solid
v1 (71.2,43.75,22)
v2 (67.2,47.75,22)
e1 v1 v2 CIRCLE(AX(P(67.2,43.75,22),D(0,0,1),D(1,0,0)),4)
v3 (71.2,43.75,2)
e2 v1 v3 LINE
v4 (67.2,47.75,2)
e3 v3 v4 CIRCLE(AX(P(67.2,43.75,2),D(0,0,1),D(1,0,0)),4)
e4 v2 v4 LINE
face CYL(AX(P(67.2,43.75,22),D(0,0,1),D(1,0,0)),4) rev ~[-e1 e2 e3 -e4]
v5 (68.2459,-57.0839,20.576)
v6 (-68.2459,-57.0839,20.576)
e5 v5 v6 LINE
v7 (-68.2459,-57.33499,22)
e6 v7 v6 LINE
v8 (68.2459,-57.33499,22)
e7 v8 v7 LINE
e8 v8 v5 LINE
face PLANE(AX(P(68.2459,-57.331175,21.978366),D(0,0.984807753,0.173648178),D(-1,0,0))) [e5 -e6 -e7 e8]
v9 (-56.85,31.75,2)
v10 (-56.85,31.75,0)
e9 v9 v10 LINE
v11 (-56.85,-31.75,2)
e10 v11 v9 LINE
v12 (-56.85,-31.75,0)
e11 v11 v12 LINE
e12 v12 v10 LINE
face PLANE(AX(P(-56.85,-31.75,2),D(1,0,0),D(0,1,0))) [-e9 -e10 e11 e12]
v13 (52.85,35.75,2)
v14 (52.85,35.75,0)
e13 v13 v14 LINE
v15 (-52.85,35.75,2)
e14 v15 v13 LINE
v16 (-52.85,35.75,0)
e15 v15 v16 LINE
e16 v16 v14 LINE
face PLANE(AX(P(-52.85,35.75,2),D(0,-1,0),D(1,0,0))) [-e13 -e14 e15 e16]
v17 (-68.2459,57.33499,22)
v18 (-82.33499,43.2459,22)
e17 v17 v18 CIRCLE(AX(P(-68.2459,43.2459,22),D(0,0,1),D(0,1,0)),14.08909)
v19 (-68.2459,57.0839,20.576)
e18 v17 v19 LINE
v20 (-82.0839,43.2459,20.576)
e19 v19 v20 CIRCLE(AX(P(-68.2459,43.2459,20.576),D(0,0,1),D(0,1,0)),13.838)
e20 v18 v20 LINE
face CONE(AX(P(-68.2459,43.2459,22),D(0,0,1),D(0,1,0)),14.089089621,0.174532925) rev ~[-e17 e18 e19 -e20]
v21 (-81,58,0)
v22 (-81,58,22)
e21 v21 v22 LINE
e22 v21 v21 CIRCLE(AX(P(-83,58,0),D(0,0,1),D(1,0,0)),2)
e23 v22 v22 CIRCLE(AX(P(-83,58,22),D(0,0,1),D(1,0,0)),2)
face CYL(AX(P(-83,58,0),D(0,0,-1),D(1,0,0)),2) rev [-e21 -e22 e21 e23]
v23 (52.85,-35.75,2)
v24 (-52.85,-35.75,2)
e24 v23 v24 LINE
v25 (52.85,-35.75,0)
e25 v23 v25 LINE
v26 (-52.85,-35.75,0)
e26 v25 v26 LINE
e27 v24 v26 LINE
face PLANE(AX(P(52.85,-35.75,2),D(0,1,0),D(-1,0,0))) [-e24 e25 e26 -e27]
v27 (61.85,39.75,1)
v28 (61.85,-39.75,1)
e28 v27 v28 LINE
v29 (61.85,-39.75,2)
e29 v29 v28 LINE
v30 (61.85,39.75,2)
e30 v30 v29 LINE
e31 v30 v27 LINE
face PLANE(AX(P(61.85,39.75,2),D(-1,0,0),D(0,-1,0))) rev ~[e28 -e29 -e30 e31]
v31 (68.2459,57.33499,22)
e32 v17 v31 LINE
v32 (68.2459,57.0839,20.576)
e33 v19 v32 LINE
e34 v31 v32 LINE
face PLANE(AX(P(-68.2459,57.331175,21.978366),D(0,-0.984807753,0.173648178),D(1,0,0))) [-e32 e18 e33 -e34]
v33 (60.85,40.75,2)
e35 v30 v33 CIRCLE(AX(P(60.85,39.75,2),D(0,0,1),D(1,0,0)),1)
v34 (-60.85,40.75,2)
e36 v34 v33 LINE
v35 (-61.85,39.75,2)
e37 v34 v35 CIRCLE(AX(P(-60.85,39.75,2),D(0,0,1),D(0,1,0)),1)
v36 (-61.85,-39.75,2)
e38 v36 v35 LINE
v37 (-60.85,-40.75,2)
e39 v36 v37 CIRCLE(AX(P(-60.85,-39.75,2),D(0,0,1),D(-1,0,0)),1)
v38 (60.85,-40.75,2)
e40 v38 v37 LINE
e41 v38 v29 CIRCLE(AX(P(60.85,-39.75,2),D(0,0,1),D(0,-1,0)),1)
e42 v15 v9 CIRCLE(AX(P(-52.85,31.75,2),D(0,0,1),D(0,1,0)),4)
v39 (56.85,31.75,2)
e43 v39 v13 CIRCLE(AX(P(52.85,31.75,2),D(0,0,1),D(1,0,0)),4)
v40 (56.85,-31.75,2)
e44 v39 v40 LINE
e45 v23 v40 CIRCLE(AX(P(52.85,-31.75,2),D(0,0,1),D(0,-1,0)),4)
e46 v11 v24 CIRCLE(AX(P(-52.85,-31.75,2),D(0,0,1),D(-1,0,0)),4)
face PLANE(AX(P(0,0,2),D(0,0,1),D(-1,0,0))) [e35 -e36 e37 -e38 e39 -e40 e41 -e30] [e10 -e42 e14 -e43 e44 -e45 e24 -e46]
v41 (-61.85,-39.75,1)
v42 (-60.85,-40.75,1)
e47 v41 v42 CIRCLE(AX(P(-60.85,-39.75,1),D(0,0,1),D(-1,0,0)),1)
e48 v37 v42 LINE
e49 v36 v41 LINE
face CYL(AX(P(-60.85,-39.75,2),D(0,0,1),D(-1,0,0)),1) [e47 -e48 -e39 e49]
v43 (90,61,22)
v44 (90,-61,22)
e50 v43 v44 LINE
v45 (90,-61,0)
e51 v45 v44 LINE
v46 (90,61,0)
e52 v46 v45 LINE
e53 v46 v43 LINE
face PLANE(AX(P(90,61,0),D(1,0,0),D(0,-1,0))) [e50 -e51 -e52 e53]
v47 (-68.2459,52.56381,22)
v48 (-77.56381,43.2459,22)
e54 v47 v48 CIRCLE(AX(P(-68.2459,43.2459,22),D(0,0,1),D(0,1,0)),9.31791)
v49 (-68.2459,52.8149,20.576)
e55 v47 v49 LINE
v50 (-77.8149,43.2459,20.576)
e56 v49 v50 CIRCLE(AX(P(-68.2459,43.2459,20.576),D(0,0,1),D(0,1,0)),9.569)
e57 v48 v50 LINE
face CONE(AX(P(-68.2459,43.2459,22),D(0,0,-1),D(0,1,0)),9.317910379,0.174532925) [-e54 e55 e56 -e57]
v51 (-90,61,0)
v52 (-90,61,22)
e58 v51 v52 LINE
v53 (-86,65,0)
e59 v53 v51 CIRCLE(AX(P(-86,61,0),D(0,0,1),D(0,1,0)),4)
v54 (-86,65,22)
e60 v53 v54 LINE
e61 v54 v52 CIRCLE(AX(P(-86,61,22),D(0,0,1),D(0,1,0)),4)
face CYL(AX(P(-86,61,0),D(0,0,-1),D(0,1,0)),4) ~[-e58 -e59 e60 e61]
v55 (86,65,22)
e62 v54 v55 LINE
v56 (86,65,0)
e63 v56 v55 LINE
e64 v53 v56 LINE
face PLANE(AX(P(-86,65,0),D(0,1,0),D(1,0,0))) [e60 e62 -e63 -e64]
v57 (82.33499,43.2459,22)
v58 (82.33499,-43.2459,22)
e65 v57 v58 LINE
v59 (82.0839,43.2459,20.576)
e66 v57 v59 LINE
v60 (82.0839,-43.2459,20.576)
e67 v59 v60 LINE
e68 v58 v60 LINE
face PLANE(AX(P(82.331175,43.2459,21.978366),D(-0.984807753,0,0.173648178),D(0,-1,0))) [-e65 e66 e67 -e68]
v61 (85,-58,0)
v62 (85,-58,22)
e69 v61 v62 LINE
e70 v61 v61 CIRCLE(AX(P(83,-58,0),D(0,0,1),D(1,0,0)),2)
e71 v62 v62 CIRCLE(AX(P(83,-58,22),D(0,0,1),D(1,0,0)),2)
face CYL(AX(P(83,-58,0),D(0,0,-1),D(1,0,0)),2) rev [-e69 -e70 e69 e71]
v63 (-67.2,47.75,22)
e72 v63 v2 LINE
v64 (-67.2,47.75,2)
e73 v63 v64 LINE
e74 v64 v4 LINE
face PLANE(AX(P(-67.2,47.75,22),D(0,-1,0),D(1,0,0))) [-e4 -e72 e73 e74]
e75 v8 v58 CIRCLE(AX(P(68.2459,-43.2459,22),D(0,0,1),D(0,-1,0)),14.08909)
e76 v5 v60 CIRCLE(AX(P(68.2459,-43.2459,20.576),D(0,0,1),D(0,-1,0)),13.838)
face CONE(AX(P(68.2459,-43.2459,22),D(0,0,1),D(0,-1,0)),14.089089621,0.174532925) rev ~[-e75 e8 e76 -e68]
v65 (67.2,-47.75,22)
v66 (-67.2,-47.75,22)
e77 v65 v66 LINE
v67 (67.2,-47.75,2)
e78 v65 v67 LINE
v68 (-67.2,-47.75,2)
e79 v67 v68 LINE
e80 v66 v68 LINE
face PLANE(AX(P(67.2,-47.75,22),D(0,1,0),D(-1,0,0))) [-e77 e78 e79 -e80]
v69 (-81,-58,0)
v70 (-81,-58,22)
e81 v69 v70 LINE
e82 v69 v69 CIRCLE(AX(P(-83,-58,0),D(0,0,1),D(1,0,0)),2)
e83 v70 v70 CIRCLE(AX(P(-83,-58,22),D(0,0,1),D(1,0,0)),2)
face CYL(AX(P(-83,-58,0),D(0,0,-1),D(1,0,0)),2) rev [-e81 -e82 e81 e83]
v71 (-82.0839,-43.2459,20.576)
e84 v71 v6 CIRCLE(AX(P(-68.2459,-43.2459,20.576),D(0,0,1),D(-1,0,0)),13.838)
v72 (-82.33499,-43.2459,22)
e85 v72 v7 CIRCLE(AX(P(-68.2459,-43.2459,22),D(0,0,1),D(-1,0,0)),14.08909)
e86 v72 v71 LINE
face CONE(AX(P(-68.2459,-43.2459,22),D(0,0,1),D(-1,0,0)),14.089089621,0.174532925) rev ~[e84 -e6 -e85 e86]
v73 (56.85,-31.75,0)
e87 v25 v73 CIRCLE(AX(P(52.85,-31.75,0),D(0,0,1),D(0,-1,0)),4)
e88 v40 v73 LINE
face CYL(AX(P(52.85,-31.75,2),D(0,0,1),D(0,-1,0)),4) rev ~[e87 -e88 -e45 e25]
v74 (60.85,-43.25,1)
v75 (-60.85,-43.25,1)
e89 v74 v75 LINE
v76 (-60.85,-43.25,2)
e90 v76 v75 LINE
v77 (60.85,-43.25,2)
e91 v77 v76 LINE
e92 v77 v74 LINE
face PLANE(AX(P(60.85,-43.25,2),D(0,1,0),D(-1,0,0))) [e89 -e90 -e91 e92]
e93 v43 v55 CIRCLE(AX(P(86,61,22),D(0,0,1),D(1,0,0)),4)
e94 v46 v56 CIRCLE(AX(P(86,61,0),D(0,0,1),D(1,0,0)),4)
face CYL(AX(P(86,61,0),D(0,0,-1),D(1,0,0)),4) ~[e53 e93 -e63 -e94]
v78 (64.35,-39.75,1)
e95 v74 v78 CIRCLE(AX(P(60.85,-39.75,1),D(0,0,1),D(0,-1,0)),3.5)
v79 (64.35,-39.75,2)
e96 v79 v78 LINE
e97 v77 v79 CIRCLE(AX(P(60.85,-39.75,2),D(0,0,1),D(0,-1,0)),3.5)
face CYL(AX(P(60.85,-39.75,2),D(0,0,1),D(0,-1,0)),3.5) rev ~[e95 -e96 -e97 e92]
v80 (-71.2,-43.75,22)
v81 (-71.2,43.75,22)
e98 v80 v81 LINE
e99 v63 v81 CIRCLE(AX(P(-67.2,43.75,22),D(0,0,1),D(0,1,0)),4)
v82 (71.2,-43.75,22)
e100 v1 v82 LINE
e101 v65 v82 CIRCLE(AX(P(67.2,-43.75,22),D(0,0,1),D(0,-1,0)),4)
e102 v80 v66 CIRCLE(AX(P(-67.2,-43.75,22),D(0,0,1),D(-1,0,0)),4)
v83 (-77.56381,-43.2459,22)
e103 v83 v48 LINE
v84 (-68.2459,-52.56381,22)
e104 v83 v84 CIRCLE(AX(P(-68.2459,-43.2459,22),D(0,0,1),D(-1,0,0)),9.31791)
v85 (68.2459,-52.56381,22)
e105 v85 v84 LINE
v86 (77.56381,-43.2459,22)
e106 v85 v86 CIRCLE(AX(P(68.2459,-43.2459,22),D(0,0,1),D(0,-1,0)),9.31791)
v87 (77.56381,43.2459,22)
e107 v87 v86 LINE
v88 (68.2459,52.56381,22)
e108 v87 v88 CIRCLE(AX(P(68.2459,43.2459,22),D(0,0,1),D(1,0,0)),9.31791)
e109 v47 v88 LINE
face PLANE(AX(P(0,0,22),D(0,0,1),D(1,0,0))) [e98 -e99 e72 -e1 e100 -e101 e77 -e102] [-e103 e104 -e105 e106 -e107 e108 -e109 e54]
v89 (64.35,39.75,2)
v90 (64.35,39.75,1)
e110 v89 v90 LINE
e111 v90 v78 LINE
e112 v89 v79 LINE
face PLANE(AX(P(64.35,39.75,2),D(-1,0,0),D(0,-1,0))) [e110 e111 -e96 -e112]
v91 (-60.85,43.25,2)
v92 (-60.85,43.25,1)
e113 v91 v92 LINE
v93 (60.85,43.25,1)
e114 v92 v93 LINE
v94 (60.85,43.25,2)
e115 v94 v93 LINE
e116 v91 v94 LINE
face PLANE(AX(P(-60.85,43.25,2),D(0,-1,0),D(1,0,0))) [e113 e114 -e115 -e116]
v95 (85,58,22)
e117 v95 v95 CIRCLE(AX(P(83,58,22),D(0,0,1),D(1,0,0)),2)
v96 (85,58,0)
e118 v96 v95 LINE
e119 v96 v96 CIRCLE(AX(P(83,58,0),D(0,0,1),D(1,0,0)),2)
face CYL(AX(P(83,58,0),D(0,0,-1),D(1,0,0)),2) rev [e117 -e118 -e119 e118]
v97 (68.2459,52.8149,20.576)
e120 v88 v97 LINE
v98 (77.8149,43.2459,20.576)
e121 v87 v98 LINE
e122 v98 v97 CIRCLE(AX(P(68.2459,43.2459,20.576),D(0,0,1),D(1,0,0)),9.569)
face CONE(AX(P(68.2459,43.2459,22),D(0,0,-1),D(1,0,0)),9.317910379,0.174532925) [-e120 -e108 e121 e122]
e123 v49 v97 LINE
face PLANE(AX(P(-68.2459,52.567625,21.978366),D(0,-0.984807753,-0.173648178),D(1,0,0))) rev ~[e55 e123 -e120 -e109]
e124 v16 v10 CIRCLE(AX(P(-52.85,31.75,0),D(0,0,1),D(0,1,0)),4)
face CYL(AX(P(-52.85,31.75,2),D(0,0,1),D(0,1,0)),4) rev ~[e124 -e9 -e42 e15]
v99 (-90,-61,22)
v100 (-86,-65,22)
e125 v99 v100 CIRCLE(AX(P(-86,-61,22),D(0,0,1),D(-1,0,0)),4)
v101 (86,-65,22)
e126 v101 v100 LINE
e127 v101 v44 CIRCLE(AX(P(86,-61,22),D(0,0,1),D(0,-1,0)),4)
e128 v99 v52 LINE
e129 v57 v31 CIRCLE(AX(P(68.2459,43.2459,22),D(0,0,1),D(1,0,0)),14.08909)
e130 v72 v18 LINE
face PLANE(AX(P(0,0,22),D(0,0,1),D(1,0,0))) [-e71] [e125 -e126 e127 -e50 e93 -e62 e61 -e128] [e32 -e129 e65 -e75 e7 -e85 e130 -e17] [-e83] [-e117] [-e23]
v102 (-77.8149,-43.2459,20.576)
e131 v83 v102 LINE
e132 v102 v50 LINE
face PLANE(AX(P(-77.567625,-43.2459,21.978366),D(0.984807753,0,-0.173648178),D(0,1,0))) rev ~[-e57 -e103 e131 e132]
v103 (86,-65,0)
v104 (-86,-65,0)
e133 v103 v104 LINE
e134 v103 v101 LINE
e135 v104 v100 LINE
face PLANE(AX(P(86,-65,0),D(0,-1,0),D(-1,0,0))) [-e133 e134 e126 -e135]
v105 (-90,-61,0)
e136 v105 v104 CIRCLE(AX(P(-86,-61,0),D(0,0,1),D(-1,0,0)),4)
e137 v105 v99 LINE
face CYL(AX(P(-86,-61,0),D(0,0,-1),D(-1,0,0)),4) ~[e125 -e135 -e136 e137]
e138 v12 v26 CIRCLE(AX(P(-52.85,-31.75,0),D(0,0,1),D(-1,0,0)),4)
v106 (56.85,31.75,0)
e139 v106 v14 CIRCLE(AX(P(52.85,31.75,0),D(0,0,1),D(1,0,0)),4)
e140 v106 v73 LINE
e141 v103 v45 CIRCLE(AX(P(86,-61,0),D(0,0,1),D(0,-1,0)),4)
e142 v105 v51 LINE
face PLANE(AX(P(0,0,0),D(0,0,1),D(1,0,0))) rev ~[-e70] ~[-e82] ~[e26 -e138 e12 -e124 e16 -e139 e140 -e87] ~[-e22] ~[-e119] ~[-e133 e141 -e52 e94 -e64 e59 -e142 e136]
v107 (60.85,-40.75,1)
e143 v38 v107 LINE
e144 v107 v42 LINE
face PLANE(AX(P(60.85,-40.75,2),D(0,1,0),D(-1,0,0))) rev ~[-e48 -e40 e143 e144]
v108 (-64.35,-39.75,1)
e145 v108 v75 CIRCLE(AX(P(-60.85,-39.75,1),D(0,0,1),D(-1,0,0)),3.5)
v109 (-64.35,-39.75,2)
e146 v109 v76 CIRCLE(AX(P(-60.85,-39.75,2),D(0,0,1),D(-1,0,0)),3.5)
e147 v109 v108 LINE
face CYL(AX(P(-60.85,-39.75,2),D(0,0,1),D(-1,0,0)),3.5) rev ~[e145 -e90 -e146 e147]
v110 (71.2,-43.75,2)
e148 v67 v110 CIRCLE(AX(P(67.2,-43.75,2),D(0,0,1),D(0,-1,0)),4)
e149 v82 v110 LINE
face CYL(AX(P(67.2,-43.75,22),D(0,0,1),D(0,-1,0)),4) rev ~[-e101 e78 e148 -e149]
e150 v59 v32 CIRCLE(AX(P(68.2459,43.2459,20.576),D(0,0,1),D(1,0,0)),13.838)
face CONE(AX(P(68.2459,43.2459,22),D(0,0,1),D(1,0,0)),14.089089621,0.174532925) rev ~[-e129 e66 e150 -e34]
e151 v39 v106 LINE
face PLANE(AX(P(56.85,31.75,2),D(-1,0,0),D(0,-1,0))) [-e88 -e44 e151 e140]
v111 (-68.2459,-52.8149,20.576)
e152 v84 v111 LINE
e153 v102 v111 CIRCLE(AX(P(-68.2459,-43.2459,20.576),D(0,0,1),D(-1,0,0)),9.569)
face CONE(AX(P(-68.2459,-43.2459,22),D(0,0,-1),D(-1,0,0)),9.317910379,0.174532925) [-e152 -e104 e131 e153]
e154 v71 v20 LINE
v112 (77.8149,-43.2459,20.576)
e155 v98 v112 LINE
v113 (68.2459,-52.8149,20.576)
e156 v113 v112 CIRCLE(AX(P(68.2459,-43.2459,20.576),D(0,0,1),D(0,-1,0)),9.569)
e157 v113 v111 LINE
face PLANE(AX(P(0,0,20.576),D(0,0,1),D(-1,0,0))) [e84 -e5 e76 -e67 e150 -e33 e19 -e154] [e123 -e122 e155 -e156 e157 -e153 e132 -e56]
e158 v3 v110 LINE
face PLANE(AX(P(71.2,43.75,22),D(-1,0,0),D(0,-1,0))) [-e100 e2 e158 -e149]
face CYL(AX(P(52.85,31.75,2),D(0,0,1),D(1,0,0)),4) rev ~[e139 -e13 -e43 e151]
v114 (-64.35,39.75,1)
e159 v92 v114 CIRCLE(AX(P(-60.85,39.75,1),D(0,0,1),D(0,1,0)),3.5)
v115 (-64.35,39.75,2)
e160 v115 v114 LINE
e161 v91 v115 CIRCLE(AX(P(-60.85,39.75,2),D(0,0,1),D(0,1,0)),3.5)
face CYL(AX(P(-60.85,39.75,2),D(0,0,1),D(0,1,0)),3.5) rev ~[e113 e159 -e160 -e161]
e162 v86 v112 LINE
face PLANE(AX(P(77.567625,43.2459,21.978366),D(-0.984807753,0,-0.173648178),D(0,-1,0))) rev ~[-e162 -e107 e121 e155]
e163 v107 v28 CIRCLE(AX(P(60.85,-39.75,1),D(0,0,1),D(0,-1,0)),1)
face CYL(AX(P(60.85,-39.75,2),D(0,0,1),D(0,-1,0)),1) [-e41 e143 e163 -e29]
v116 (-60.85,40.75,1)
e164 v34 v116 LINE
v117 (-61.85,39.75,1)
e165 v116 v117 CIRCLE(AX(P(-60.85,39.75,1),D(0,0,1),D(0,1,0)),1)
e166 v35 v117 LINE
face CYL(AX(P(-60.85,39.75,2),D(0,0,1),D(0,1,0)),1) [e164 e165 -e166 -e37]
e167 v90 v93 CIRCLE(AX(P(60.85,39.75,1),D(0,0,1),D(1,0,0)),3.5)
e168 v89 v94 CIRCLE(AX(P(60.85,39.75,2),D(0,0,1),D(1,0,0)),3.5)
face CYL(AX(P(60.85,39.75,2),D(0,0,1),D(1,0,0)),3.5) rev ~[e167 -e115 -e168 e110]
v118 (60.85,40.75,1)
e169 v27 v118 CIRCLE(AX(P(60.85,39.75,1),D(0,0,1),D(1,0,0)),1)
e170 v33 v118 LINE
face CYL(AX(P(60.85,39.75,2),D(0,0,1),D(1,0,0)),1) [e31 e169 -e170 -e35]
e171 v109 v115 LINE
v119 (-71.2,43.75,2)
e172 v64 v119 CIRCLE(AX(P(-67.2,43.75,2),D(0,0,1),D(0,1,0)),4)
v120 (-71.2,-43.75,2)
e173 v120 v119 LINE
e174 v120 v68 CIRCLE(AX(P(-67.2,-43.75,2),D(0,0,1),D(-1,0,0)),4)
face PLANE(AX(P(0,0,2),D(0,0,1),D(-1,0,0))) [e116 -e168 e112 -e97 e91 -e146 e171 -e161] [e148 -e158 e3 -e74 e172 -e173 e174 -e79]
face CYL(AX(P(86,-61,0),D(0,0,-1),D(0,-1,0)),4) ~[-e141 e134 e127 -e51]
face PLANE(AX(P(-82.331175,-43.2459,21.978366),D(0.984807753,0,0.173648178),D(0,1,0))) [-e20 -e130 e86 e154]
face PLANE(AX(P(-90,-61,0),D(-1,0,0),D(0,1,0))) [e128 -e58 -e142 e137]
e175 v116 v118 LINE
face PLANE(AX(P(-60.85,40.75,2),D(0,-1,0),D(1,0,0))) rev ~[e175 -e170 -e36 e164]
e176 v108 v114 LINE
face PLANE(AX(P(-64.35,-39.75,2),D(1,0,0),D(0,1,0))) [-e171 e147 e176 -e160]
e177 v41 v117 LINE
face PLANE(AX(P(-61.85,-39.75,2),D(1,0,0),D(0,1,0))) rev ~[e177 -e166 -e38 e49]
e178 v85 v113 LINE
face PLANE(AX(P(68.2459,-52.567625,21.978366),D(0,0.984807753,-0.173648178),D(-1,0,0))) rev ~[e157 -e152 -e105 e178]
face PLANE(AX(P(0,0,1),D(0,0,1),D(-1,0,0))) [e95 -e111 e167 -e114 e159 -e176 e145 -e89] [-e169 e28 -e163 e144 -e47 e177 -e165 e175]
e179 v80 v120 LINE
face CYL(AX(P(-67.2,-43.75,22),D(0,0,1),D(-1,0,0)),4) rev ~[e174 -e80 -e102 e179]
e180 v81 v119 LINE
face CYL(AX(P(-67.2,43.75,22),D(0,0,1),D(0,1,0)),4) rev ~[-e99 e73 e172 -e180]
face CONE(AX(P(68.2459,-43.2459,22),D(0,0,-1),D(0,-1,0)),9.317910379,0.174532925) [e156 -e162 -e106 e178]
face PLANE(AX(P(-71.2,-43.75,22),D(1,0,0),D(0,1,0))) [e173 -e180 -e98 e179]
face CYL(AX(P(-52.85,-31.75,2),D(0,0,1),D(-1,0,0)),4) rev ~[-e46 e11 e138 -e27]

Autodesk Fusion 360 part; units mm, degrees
sketch "Sketch1" plane through (0, 0, 0) normal (0, 0, 1) x (1, 0, 0)
  line L0 (86, -65) -> (-86, -65)
  line L1 (-90, -61) -> (-90, 61)
  line L2 (-86, 65) -> (86, 65)
  line L3 (90, 61) -> (90, -61)
  line L4 (90, -65) -> (-90, 65) construction
  line L5 (-90, -65) -> (90, 65) construction
  arc A0 (-86, 65) -> (-90, 61) centre (-86, 61) ccw
  arc A1 (90, 61) -> (86, 65) centre (86, 61) ccw
  arc A2 (86, -65) -> (90, -61) centre (86, -61) ccw
  arc A3 (-90, -61) -> (-86, -65) centre (-86, -61) ccw
  circle A4 centre (-83, 58) radius 2
  line L6 (0, 65) -> (0, -65) construction
  line L7 (90, 0) -> (-90, 0) construction
  circle A5 centre (83, 58) radius 2
  circle A6 centre (83, -58) radius 2
  circle A7 centre (-83, -58) radius 2
  dimension "d1" = 180
  dimension "d2" = 130
  dimension "d26" = 4
  dimension "d27" = 4
  dimension "d28" = 4
  dimension "d29" = 4
  dimension "d30" = 4
  dimension "d31" = 7
  dimension "d32" = 7
extrude "Extrude1" add sketch "Sketch1" along normal blind 22
sketch "Sketch2" plane through (0, 0, 22) normal (0, 0, 1) x (-1, 0, 0)
  line L0 (-86, -65) -> (86, -65)
  line L1 (90, -61) -> (90, 61)
  line L2 (86, 65) -> (-86, 65)
  line L3 (-90, 61) -> (-90, -61)
  line L4 (-67.2, 47.75) -> (67.2, 47.75)
  line L5 (71.2, 43.75) -> (71.2, -43.75)
  line L6 (67.2, -47.75) -> (-67.2, -47.75)
  line L7 (-71.2, -43.75) -> (-71.2, 43.75)
  line L8 (-71.2, 47.75) -> (71.2, -47.75) construction
  line L9 (71.2, 47.75) -> (-71.2, -47.75) construction
  arc A0 (86, -65) -> (90, -61) centre (86, -61) ccw
  arc A1 (90, 61) -> (86, 65) centre (86, 61) ccw
  arc A2 (-86, 65) -> (-90, 61) centre (-86, 61) ccw
  arc A3 (-90, -61) -> (-86, -65) centre (-86, -61) ccw
  circle A4 centre (83, 58) radius 2
  circle A5 centre (-83, 58) radius 2
  circle A6 centre (-83, -58) radius 2
  circle A7 centre (83, -58) radius 2
  arc A8 (67.2, -47.75) -> (71.2, -43.75) centre (67.2, -43.75) ccw
  arc A9 (-71.2, -43.75) -> (-67.2, -47.75) centre (-67.2, -43.75) ccw
  arc A10 (71.2, 43.75) -> (67.2, 47.75) centre (67.2, 43.75) ccw
  arc A11 (-67.2, 47.75) -> (-71.2, 43.75) centre (-67.2, 43.75) ccw
  dimension "d5" = 142.4
  dimension "d6" = 95.5
  dimension "d52" = 4
  dimension "d53" = 4
  dimension "d54" = 4
  dimension "d55" = 4
extrude "Extrude2" cut sketch "Sketch2" against normal blind 20 contours L4 L5 L6 L7 A8 A9 A10 A11
sketch "Sketch3" plane through (0, 0, 22) normal (0, 0, 1) x (-1, 0, 0)
  line L0 (71.2, 43.75) -> (71.2, -43.75)
  line L1 (67.2, -47.75) -> (-67.2, -47.75)
  line L2 (-71.2, -43.75) -> (-71.2, 43.75)
  line L3 (-67.2, 47.75) -> (67.2, 47.75)
  line L4 (-86, -65) -> (86, -65)
  line L5 (90, -61) -> (90, 61)
  line L6 (86, 65) -> (-86, 65)
  line L7 (-90, 61) -> (-90, -61)
  line L8 (-79.9494, 54.9494) -> (79.9494, 54.9494) construction
  line L9 (79.9494, 54.9494) -> (79.9494, -54.9494) construction
  line L10 (79.9494, -54.9494) -> (-79.9494, -54.9494) construction
  line L11 (-79.9494, -54.9494) -> (-79.9494, 54.9494) construction
  line L12 (-79.9494, 54.9494) -> (79.9494, -54.9494) construction
  line L13 (79.9494, 54.9494) -> (-79.9494, -54.9494) construction
  line L14 (77.8149, 43.2459) -> (77.8149, -43.2459)
  line L15 (68.2459, -52.8149) -> (-68.2459, -52.8149)
  line L16 (-77.8149, -43.2459) -> (-77.8149, 43.2459)
  line L17 (-69.6267, 47.2574) -> (77.8149, -52.8149) construction
  line L18 (70.6619, 45.6619) -> (-70.6619, -45.6619) construction
  line L19 (-68.2459, 57.0839) -> (68.2459, 57.0839)
  line L20 (82.0839, 43.2459) -> (82.0839, -43.2459)
  line L21 (68.2459, -57.0839) -> (-68.2459, -57.0839)
  line L22 (-82.0839, -43.2459) -> (-82.0839, 43.2459)
  line L23 (-72.3401, 50.3077) -> (82.0839, -57.0839) construction
  line L24 (73.5309, 48.5309) -> (-73.5309, -48.5309) construction
  arc A0 (68.2459, -52.8149) -> (77.8149, -43.2459) centre (68.2459, -43.2459) ccw
  arc A1 (68.2459, -57.0839) -> (82.0839, -43.2459) centre (68.2459, -43.2459) ccw
  line L25 (0, -65) -> (0, 65) construction
  line L26 (-90, 0) -> (90, 0) construction
  arc A2 (-77.8149, -43.2459) -> (-68.2459, -52.8149) centre (-68.2459, -43.2459) ccw
  arc A3 (-82.0839, -43.2459) -> (-68.2459, -57.0839) centre (-68.2459, -43.2459) ccw
  arc A4 (-68.2459, 52.8149) -> (-77.8149, 43.2459) centre (-68.2459, 43.2459) ccw
  arc A5 (-68.2459, 57.0839) -> (-82.0839, 43.2459) centre (-68.2459, 43.2459) ccw
  arc A6 (77.8149, 43.2459) -> (68.2459, 52.8149) centre (68.2459, 43.2459) ccw
  arc A7 (82.0839, 43.2459) -> (68.2459, 57.0839) centre (68.2459, 43.2459) ccw
  line L27 (-68.2459, 52.8149) -> (68.2459, 52.8149)
  arc A8 (86, -65) -> (90, -61) centre (86, -61) ccw
  arc A9 (90, 61) -> (86, 65) centre (86, 61) ccw
  arc A10 (-86, 65) -> (-90, 61) centre (-86, 61) ccw
  arc A11 (-90, -61) -> (-86, -65) centre (-86, -61) ccw
  circle A12 centre (83, 58) radius 2
  circle A13 centre (-83, 58) radius 2
  circle A14 centre (-83, -58) radius 2
  circle A15 centre (83, -58) radius 2
  arc A16 (71.2, 43.75) -> (67.2, 47.75) centre (67.2, 43.75) ccw
  arc A17 (67.2, -47.75) -> (71.2, -43.75) centre (67.2, -43.75) ccw
  arc A18 (-71.2, -43.75) -> (-67.2, -47.75) centre (-67.2, -43.75) ccw
  arc A19 (-67.2, 47.75) -> (-71.2, 43.75) centre (-67.2, 43.75) ccw
  dimension "d9" = 159.8988
  dimension "d15" = 109.8988
  dimension "d16" = 2.1345
  dimension "d17" = 2.1345
  dimension "d18" = 2.1345
  dimension "d19" = 2.1345
  dimension "d20" = 9.569
  dimension "d21" = 13.838
extrude "Extrude3" cut sketch "Sketch3" against normal blind 1.424 contours L19 L20 L21 L22 A1 A3 A5 A7
draft "Draft1" angle 10 neutral plane through (0, 0, 20.576) pull (0, 0, 1) 16 faces at (-77.8149, -14.4153, 21.5253) (-71.8024, 52.1295, 21.0507) (-22.7486, 52.8149, 21.5253) (72.6307, 51.7512, 21.0507) (77.8149, 14.4153, 21.5253) (73.0304, -51.5329, 21.0507) (22.7486, -52.8149, 21.5253) (-77.1295, -46.8024, 21.0507) (-82.0839, -14.4153, 21.5253) (-76.2727, -54.518, 21.0507) (-22.7486, -57.0839, 21.0507) (82.0213, -44.5613, 21.0507) (82.0839, 14.4153, 21.5253) (77.7952, 53.2609, 21.0507) (22.7486, 57.0839, 21.0507) (-76.8, 54.1233, 21.0507)
sketch "Sketch6" plane through (0, 0, 2) normal (0, 0, 1) x (-1, 0, 0)
  arc A0 (71.2, 43.75) -> (67.2, 47.75) centre (67.2, 43.75) ccw
  line L0 (67.2, 47.75) -> (-67.2, 47.75)
  arc A1 (-67.2, 47.75) -> (-71.2, 43.75) centre (-67.2, 43.75) ccw
  line L1 (-71.2, 43.75) -> (-71.2, -43.75)
  arc A2 (-71.2, -43.75) -> (-67.2, -47.75) centre (-67.2, -43.75) ccw
  line L2 (-67.2, -47.75) -> (67.2, -47.75)
  arc A3 (67.2, -47.75) -> (71.2, -43.75) centre (67.2, -43.75) ccw
  line L3 (71.2, -43.75) -> (71.2, 43.75)
  arc A4 (60.9079, -41.3399) -> (62.4799, -39.7679) centre (60.9079, -39.7679) ccw construction
  arc A5 (-62.4799, -39.7399) -> (-60.9079, -41.3119) centre (-60.9079, -39.7399) ccw construction
  line L4 (-48.9575, -41.8399) -> (48.9575, -41.8399) construction
  line L5 (48.9575, 41.8399) -> (-48.9575, 41.8399) construction
  line L6 (-62.9799, 29.7119) -> (-62.9799, 27.8175) construction
  line L7 (48.9575, -41.8399) -> (50.8519, -41.8399) construction
  line L8 (62.4799, 30.3078) -> (62.4799, 39.7679) construction
  arc A6 (-60.88, 42.74) -> (-63.88, 39.74) centre (-60.88, 39.74) ccw construction
  line L9 (63.88, 39.74) -> (63.88, -39.74) construction
  arc A7 (63.88, 39.74) -> (60.88, 42.74) centre (60.88, 39.74) ccw construction
  line L10 (-62.9799, -29.7119) -> (-62.4799, -30.3078) construction
  line L11 (51.4478, 41.3399) -> (50.8519, 41.8399) construction
  arc A8 (60.88, -42.74) -> (63.88, -39.74) centre (60.88, -39.74) ccw construction
  line L12 (-48.9575, 41.8399) -> (-50.8519, 41.8399) construction
  line L13 (-60.88, 42.74) -> (60.88, 42.74) construction
  line L14 (-62.9799, -27.8175) -> (-62.9799, -29.7119) construction
  line L15 (60.88, -42.74) -> (-60.88, -42.74) construction
  line L16 (62.9799, 29.7119) -> (62.4799, 30.3078) construction
  line L17 (-50.8519, 41.8399) -> (-51.4811, 41.3119) construction
  line L18 (62.4799, -39.7679) -> (62.4799, -30.3078) construction
  line L19 (-50.8519, -41.8399) -> (-48.9575, -41.8399) construction
  line L20 (60.9079, 41.3399) -> (51.4478, 41.3399) construction
  line L21 (50.8519, 41.8399) -> (48.9575, 41.8399) construction
  line L22 (62.9799, 27.8175) -> (62.9799, 29.7119) construction
  line L23 (51.4478, -41.3399) -> (60.9079, -41.3399) construction
  line L24 (62.9799, -27.8175) -> (62.9799, 27.8175) construction
  line L25 (-63.88, -39.74) -> (-63.88, 39.74) construction
  line L26 (50.8519, -41.8399) -> (51.4478, -41.3399) construction
  line L27 (62.9799, -29.7119) -> (62.9799, -27.8175) construction
  arc A9 (-63.88, -39.74) -> (-60.88, -42.74) centre (-60.88, -39.74) ccw construction
  arc A10 (62.4799, 39.7679) -> (60.9079, 41.3399) centre (60.9079, 39.7679) ccw construction
  line L28 (62.4799, -30.3078) -> (62.9799, -29.7119) construction
  line L29 (-62.4799, 30.3078) -> (-62.9799, 29.7119) construction
  line L30 (-60.9079, -41.3119) -> (-51.4811, -41.3119) construction
  arc A11 (-60.9079, 41.3119) -> (-62.4799, 39.7399) centre (-60.9079, 39.7399) ccw construction
  line L31 (-51.4811, -41.3119) -> (-50.8519, -41.8399) construction
  line L32 (-51.4811, 41.3119) -> (-60.9079, 41.3119) construction
  line L33 (-62.4799, 39.7399) -> (-62.4799, 30.3078) construction
  line L34 (-62.4799, -30.3078) -> (-62.4799, -39.7399) construction
  line L35 (-62.9799, 27.8175) -> (-62.9799, -27.8175) construction
  line L36 (0, -47.75) -> (0, 47.75) construction
  line L37 (-71.2, 0) -> (71.2, 0) construction
  line L38 (-60.85, 43.25) -> (60.85, 43.25)
  line L39 (64.35, 39.75) -> (64.35, -39.75)
  line L40 (60.85, -43.25) -> (-60.85, -43.25)
  line L41 (-64.35, -39.75) -> (-64.35, 39.75)
  line L42 (-64.35, 43.25) -> (64.35, -43.25) construction
  line L43 (64.35, 43.25) -> (-64.35, -43.25) construction
  arc A12 (60.85, -43.25) -> (64.35, -39.75) centre (60.85, -39.75) ccw
  arc A13 (-64.35, -39.75) -> (-60.85, -43.25) centre (-60.85, -39.75) ccw
  arc A14 (-60.85, 43.25) -> (-64.35, 39.75) centre (-60.85, 39.75) ccw
  arc A15 (64.35, 39.75) -> (60.85, 43.25) centre (60.85, 39.75) ccw
  line L44 (-60.85, 40.75) -> (60.85, 40.75)
  line L45 (61.85, 39.75) -> (61.85, -39.75)
  line L46 (60.85, -40.75) -> (-60.85, -40.75)
  line L47 (-61.85, -39.75) -> (-61.85, 39.75)
  line L48 (-61.85, 40.75) -> (61.85, -40.75) construction
  line L49 (61.85, 40.75) -> (-61.85, -40.75) construction
  arc A16 (-61.85, -39.75) -> (-60.85, -40.75) centre (-60.85, -39.75) ccw
  arc A17 (60.85, -40.75) -> (61.85, -39.75) centre (60.85, -39.75) ccw
  arc A18 (61.85, 39.75) -> (60.85, 40.75) centre (60.85, 39.75) ccw
  arc A19 (-60.85, 40.75) -> (-61.85, 39.75) centre (-60.85, 39.75) ccw
  dimension "d56" = 128.7
  dimension "d57" = 86.5
  dimension "d58" = 3.5
  dimension "d59" = 3.5
  dimension "d60" = 3.5
  dimension "d61" = 3.5
  dimension "d63" = 2.5
  dimension "d64" = 2.5
  dimension "d65" = 1
  dimension "d66" = 1
  dimension "d67" = 1
  dimension "d68" = 1
extrude "Extrude7" cut sketch "Sketch6" against normal blind 1 contours L38 L39 L40 L41 A12 A13 A14 A15
sketch "Sketch4" plane through (0, 0, 2) normal (0, 0, 1) x (-1, 0, 0)
  line L0 (-67.2, -47.75) -> (67.2, -47.75)
  line L1 (71.2, -43.75) -> (71.2, 43.75)
  line L2 (67.2, 47.75) -> (-67.2, 47.75)
  line L3 (-71.2, 43.75) -> (-71.2, -43.75)
  line L4 (-52.85, 35.75) -> (52.85, 35.75)
  line L5 (56.85, 31.75) -> (56.85, -31.75)
  line L6 (52.85, -35.75) -> (-52.85, -35.75)
  line L7 (-56.85, -31.75) -> (-56.85, 31.75)
  line L8 (-56.85, 35.75) -> (56.85, -35.75) construction
  line L9 (56.85, 35.75) -> (-56.85, -35.75) construction
  arc A0 (71.2, 43.75) -> (67.2, 47.75) centre (67.2, 43.75) ccw
  arc A1 (-67.2, 47.75) -> (-71.2, 43.75) centre (-67.2, 43.75) ccw
  arc A2 (-71.2, -43.75) -> (-67.2, -47.75) centre (-67.2, -43.75) ccw
  arc A3 (67.2, -47.75) -> (71.2, -43.75) centre (67.2, -43.75) ccw
  arc A4 (52.85, -35.75) -> (56.85, -31.75) centre (52.85, -31.75) ccw
  arc A5 (-56.85, -31.75) -> (-52.85, -35.75) centre (-52.85, -31.75) ccw
  arc A6 (-52.85, 35.75) -> (-56.85, 31.75) centre (-52.85, 31.75) ccw
  arc A7 (56.85, 31.75) -> (52.85, 35.75) centre (52.85, 31.75) ccw
  line L10 (64.35, 39.75) -> (64.35, -39.75)
  arc A8 (60.85, -43.25) -> (64.35, -39.75) centre (60.85, -39.75) ccw
  line L11 (60.85, -43.25) -> (-60.85, -43.25)
  arc A9 (-64.35, -39.75) -> (-60.85, -43.25) centre (-60.85, -39.75) ccw
  line L12 (-64.35, -39.75) -> (-64.35, 39.75)
  arc A10 (-60.85, 43.25) -> (-64.35, 39.75) centre (-60.85, 39.75) ccw
  line L13 (-60.85, 43.25) -> (60.85, 43.25)
  arc A11 (64.35, 39.75) -> (60.85, 43.25) centre (60.85, 39.75) ccw
  line L14 (61.85, -39.75) -> (61.85, 39.75)
  arc A12 (61.85, 39.75) -> (60.85, 40.75) centre (60.85, 39.75) ccw
  line L15 (60.85, 40.75) -> (-60.85, 40.75)
  arc A13 (-60.85, 40.75) -> (-61.85, 39.75) centre (-60.85, 39.75) ccw
  line L16 (-61.85, 39.75) -> (-61.85, -39.75)
  arc A14 (-61.85, -39.75) -> (-60.85, -40.75) centre (-60.85, -39.75) ccw
  line L17 (-60.85, -40.75) -> (60.85, -40.75)
  arc A15 (60.85, -40.75) -> (61.85, -39.75) centre (60.85, -39.75) ccw
  dimension "d71" = 4
  dimension "d72" = 4
  dimension "d73" = 4
  dimension "d74" = 4
  dimension "d77" = 5
  dimension "d78" = 5
extrude "Extrude8" cut sketch "Sketch4" against normal blind 5 contours L4 L5 L6 L7 A4 A5 A6 A7
equation "d9 = ( ORingPerimeter - 100 mm ) / 4 + 50 mm"
equation "ORingDiameter = 1.78 mm" comment "Diamter of the O ring"
equation "ORingInnerDiameter = 170 mm" comment "Inner diamter of the o ring bore"
equation "ORingPerimeter = 2 * 3.1412 * ( ( ORingInnerDiameter / 2 ) + ORingDiameter / 2 )"
equation "PanelWidth = 80 mm"
equation "PanelLength = 115 mm"
equation "d15 = ( ORingPerimeter - 100 mm ) / 4"
equation "d16 = ( ( ORingDiameter * 1.05 ) / 2 ) + 1.2 mm"
equation "d17 = ( ( ORingDiameter * 1.05 ) / 2 ) + 1.2 mm"
equation "d18 = ( ( ORingDiameter * 1.05 ) / 2 ) + 1.2 mm"
equation "d19 = ( ( ORingDiameter * 1.05 ) / 2 ) + 1.2 mm"
equation "d20 = ( ORingDiameter ) * 6 + ORingDiameter * 0.05 - 1.2 mm"
equation "d21 = ( ORingDiameter ) * 6 + ( ORingDiameter * 1.1 ) + 1.2 mm"
equation "d22 = -ORingDiameter * 0.8"
equation "d30 = Bolt_Diam"
equation "ORing2Diameter = 2 mm" comment "Second O ring Diameter"
equation "ORing2InnerDiameter = 126 mm" comment "Inner diameter of the second O Ring"
equation "ORing2Perimeter = 2 * 3.1412 * ( ( ORing2InnerDiameter / 2 ) + ORing2Diameter / 2 )"
equation "Bolt_Diam = 4 mm" comment "Diameter of the bolt"
equation "Bolt_Head_Height = 4 mm" comment "height of the bolt head"
equation "Bolt_Head_Diam = 7.22 mm" comment "Diameter of the bolt head"
